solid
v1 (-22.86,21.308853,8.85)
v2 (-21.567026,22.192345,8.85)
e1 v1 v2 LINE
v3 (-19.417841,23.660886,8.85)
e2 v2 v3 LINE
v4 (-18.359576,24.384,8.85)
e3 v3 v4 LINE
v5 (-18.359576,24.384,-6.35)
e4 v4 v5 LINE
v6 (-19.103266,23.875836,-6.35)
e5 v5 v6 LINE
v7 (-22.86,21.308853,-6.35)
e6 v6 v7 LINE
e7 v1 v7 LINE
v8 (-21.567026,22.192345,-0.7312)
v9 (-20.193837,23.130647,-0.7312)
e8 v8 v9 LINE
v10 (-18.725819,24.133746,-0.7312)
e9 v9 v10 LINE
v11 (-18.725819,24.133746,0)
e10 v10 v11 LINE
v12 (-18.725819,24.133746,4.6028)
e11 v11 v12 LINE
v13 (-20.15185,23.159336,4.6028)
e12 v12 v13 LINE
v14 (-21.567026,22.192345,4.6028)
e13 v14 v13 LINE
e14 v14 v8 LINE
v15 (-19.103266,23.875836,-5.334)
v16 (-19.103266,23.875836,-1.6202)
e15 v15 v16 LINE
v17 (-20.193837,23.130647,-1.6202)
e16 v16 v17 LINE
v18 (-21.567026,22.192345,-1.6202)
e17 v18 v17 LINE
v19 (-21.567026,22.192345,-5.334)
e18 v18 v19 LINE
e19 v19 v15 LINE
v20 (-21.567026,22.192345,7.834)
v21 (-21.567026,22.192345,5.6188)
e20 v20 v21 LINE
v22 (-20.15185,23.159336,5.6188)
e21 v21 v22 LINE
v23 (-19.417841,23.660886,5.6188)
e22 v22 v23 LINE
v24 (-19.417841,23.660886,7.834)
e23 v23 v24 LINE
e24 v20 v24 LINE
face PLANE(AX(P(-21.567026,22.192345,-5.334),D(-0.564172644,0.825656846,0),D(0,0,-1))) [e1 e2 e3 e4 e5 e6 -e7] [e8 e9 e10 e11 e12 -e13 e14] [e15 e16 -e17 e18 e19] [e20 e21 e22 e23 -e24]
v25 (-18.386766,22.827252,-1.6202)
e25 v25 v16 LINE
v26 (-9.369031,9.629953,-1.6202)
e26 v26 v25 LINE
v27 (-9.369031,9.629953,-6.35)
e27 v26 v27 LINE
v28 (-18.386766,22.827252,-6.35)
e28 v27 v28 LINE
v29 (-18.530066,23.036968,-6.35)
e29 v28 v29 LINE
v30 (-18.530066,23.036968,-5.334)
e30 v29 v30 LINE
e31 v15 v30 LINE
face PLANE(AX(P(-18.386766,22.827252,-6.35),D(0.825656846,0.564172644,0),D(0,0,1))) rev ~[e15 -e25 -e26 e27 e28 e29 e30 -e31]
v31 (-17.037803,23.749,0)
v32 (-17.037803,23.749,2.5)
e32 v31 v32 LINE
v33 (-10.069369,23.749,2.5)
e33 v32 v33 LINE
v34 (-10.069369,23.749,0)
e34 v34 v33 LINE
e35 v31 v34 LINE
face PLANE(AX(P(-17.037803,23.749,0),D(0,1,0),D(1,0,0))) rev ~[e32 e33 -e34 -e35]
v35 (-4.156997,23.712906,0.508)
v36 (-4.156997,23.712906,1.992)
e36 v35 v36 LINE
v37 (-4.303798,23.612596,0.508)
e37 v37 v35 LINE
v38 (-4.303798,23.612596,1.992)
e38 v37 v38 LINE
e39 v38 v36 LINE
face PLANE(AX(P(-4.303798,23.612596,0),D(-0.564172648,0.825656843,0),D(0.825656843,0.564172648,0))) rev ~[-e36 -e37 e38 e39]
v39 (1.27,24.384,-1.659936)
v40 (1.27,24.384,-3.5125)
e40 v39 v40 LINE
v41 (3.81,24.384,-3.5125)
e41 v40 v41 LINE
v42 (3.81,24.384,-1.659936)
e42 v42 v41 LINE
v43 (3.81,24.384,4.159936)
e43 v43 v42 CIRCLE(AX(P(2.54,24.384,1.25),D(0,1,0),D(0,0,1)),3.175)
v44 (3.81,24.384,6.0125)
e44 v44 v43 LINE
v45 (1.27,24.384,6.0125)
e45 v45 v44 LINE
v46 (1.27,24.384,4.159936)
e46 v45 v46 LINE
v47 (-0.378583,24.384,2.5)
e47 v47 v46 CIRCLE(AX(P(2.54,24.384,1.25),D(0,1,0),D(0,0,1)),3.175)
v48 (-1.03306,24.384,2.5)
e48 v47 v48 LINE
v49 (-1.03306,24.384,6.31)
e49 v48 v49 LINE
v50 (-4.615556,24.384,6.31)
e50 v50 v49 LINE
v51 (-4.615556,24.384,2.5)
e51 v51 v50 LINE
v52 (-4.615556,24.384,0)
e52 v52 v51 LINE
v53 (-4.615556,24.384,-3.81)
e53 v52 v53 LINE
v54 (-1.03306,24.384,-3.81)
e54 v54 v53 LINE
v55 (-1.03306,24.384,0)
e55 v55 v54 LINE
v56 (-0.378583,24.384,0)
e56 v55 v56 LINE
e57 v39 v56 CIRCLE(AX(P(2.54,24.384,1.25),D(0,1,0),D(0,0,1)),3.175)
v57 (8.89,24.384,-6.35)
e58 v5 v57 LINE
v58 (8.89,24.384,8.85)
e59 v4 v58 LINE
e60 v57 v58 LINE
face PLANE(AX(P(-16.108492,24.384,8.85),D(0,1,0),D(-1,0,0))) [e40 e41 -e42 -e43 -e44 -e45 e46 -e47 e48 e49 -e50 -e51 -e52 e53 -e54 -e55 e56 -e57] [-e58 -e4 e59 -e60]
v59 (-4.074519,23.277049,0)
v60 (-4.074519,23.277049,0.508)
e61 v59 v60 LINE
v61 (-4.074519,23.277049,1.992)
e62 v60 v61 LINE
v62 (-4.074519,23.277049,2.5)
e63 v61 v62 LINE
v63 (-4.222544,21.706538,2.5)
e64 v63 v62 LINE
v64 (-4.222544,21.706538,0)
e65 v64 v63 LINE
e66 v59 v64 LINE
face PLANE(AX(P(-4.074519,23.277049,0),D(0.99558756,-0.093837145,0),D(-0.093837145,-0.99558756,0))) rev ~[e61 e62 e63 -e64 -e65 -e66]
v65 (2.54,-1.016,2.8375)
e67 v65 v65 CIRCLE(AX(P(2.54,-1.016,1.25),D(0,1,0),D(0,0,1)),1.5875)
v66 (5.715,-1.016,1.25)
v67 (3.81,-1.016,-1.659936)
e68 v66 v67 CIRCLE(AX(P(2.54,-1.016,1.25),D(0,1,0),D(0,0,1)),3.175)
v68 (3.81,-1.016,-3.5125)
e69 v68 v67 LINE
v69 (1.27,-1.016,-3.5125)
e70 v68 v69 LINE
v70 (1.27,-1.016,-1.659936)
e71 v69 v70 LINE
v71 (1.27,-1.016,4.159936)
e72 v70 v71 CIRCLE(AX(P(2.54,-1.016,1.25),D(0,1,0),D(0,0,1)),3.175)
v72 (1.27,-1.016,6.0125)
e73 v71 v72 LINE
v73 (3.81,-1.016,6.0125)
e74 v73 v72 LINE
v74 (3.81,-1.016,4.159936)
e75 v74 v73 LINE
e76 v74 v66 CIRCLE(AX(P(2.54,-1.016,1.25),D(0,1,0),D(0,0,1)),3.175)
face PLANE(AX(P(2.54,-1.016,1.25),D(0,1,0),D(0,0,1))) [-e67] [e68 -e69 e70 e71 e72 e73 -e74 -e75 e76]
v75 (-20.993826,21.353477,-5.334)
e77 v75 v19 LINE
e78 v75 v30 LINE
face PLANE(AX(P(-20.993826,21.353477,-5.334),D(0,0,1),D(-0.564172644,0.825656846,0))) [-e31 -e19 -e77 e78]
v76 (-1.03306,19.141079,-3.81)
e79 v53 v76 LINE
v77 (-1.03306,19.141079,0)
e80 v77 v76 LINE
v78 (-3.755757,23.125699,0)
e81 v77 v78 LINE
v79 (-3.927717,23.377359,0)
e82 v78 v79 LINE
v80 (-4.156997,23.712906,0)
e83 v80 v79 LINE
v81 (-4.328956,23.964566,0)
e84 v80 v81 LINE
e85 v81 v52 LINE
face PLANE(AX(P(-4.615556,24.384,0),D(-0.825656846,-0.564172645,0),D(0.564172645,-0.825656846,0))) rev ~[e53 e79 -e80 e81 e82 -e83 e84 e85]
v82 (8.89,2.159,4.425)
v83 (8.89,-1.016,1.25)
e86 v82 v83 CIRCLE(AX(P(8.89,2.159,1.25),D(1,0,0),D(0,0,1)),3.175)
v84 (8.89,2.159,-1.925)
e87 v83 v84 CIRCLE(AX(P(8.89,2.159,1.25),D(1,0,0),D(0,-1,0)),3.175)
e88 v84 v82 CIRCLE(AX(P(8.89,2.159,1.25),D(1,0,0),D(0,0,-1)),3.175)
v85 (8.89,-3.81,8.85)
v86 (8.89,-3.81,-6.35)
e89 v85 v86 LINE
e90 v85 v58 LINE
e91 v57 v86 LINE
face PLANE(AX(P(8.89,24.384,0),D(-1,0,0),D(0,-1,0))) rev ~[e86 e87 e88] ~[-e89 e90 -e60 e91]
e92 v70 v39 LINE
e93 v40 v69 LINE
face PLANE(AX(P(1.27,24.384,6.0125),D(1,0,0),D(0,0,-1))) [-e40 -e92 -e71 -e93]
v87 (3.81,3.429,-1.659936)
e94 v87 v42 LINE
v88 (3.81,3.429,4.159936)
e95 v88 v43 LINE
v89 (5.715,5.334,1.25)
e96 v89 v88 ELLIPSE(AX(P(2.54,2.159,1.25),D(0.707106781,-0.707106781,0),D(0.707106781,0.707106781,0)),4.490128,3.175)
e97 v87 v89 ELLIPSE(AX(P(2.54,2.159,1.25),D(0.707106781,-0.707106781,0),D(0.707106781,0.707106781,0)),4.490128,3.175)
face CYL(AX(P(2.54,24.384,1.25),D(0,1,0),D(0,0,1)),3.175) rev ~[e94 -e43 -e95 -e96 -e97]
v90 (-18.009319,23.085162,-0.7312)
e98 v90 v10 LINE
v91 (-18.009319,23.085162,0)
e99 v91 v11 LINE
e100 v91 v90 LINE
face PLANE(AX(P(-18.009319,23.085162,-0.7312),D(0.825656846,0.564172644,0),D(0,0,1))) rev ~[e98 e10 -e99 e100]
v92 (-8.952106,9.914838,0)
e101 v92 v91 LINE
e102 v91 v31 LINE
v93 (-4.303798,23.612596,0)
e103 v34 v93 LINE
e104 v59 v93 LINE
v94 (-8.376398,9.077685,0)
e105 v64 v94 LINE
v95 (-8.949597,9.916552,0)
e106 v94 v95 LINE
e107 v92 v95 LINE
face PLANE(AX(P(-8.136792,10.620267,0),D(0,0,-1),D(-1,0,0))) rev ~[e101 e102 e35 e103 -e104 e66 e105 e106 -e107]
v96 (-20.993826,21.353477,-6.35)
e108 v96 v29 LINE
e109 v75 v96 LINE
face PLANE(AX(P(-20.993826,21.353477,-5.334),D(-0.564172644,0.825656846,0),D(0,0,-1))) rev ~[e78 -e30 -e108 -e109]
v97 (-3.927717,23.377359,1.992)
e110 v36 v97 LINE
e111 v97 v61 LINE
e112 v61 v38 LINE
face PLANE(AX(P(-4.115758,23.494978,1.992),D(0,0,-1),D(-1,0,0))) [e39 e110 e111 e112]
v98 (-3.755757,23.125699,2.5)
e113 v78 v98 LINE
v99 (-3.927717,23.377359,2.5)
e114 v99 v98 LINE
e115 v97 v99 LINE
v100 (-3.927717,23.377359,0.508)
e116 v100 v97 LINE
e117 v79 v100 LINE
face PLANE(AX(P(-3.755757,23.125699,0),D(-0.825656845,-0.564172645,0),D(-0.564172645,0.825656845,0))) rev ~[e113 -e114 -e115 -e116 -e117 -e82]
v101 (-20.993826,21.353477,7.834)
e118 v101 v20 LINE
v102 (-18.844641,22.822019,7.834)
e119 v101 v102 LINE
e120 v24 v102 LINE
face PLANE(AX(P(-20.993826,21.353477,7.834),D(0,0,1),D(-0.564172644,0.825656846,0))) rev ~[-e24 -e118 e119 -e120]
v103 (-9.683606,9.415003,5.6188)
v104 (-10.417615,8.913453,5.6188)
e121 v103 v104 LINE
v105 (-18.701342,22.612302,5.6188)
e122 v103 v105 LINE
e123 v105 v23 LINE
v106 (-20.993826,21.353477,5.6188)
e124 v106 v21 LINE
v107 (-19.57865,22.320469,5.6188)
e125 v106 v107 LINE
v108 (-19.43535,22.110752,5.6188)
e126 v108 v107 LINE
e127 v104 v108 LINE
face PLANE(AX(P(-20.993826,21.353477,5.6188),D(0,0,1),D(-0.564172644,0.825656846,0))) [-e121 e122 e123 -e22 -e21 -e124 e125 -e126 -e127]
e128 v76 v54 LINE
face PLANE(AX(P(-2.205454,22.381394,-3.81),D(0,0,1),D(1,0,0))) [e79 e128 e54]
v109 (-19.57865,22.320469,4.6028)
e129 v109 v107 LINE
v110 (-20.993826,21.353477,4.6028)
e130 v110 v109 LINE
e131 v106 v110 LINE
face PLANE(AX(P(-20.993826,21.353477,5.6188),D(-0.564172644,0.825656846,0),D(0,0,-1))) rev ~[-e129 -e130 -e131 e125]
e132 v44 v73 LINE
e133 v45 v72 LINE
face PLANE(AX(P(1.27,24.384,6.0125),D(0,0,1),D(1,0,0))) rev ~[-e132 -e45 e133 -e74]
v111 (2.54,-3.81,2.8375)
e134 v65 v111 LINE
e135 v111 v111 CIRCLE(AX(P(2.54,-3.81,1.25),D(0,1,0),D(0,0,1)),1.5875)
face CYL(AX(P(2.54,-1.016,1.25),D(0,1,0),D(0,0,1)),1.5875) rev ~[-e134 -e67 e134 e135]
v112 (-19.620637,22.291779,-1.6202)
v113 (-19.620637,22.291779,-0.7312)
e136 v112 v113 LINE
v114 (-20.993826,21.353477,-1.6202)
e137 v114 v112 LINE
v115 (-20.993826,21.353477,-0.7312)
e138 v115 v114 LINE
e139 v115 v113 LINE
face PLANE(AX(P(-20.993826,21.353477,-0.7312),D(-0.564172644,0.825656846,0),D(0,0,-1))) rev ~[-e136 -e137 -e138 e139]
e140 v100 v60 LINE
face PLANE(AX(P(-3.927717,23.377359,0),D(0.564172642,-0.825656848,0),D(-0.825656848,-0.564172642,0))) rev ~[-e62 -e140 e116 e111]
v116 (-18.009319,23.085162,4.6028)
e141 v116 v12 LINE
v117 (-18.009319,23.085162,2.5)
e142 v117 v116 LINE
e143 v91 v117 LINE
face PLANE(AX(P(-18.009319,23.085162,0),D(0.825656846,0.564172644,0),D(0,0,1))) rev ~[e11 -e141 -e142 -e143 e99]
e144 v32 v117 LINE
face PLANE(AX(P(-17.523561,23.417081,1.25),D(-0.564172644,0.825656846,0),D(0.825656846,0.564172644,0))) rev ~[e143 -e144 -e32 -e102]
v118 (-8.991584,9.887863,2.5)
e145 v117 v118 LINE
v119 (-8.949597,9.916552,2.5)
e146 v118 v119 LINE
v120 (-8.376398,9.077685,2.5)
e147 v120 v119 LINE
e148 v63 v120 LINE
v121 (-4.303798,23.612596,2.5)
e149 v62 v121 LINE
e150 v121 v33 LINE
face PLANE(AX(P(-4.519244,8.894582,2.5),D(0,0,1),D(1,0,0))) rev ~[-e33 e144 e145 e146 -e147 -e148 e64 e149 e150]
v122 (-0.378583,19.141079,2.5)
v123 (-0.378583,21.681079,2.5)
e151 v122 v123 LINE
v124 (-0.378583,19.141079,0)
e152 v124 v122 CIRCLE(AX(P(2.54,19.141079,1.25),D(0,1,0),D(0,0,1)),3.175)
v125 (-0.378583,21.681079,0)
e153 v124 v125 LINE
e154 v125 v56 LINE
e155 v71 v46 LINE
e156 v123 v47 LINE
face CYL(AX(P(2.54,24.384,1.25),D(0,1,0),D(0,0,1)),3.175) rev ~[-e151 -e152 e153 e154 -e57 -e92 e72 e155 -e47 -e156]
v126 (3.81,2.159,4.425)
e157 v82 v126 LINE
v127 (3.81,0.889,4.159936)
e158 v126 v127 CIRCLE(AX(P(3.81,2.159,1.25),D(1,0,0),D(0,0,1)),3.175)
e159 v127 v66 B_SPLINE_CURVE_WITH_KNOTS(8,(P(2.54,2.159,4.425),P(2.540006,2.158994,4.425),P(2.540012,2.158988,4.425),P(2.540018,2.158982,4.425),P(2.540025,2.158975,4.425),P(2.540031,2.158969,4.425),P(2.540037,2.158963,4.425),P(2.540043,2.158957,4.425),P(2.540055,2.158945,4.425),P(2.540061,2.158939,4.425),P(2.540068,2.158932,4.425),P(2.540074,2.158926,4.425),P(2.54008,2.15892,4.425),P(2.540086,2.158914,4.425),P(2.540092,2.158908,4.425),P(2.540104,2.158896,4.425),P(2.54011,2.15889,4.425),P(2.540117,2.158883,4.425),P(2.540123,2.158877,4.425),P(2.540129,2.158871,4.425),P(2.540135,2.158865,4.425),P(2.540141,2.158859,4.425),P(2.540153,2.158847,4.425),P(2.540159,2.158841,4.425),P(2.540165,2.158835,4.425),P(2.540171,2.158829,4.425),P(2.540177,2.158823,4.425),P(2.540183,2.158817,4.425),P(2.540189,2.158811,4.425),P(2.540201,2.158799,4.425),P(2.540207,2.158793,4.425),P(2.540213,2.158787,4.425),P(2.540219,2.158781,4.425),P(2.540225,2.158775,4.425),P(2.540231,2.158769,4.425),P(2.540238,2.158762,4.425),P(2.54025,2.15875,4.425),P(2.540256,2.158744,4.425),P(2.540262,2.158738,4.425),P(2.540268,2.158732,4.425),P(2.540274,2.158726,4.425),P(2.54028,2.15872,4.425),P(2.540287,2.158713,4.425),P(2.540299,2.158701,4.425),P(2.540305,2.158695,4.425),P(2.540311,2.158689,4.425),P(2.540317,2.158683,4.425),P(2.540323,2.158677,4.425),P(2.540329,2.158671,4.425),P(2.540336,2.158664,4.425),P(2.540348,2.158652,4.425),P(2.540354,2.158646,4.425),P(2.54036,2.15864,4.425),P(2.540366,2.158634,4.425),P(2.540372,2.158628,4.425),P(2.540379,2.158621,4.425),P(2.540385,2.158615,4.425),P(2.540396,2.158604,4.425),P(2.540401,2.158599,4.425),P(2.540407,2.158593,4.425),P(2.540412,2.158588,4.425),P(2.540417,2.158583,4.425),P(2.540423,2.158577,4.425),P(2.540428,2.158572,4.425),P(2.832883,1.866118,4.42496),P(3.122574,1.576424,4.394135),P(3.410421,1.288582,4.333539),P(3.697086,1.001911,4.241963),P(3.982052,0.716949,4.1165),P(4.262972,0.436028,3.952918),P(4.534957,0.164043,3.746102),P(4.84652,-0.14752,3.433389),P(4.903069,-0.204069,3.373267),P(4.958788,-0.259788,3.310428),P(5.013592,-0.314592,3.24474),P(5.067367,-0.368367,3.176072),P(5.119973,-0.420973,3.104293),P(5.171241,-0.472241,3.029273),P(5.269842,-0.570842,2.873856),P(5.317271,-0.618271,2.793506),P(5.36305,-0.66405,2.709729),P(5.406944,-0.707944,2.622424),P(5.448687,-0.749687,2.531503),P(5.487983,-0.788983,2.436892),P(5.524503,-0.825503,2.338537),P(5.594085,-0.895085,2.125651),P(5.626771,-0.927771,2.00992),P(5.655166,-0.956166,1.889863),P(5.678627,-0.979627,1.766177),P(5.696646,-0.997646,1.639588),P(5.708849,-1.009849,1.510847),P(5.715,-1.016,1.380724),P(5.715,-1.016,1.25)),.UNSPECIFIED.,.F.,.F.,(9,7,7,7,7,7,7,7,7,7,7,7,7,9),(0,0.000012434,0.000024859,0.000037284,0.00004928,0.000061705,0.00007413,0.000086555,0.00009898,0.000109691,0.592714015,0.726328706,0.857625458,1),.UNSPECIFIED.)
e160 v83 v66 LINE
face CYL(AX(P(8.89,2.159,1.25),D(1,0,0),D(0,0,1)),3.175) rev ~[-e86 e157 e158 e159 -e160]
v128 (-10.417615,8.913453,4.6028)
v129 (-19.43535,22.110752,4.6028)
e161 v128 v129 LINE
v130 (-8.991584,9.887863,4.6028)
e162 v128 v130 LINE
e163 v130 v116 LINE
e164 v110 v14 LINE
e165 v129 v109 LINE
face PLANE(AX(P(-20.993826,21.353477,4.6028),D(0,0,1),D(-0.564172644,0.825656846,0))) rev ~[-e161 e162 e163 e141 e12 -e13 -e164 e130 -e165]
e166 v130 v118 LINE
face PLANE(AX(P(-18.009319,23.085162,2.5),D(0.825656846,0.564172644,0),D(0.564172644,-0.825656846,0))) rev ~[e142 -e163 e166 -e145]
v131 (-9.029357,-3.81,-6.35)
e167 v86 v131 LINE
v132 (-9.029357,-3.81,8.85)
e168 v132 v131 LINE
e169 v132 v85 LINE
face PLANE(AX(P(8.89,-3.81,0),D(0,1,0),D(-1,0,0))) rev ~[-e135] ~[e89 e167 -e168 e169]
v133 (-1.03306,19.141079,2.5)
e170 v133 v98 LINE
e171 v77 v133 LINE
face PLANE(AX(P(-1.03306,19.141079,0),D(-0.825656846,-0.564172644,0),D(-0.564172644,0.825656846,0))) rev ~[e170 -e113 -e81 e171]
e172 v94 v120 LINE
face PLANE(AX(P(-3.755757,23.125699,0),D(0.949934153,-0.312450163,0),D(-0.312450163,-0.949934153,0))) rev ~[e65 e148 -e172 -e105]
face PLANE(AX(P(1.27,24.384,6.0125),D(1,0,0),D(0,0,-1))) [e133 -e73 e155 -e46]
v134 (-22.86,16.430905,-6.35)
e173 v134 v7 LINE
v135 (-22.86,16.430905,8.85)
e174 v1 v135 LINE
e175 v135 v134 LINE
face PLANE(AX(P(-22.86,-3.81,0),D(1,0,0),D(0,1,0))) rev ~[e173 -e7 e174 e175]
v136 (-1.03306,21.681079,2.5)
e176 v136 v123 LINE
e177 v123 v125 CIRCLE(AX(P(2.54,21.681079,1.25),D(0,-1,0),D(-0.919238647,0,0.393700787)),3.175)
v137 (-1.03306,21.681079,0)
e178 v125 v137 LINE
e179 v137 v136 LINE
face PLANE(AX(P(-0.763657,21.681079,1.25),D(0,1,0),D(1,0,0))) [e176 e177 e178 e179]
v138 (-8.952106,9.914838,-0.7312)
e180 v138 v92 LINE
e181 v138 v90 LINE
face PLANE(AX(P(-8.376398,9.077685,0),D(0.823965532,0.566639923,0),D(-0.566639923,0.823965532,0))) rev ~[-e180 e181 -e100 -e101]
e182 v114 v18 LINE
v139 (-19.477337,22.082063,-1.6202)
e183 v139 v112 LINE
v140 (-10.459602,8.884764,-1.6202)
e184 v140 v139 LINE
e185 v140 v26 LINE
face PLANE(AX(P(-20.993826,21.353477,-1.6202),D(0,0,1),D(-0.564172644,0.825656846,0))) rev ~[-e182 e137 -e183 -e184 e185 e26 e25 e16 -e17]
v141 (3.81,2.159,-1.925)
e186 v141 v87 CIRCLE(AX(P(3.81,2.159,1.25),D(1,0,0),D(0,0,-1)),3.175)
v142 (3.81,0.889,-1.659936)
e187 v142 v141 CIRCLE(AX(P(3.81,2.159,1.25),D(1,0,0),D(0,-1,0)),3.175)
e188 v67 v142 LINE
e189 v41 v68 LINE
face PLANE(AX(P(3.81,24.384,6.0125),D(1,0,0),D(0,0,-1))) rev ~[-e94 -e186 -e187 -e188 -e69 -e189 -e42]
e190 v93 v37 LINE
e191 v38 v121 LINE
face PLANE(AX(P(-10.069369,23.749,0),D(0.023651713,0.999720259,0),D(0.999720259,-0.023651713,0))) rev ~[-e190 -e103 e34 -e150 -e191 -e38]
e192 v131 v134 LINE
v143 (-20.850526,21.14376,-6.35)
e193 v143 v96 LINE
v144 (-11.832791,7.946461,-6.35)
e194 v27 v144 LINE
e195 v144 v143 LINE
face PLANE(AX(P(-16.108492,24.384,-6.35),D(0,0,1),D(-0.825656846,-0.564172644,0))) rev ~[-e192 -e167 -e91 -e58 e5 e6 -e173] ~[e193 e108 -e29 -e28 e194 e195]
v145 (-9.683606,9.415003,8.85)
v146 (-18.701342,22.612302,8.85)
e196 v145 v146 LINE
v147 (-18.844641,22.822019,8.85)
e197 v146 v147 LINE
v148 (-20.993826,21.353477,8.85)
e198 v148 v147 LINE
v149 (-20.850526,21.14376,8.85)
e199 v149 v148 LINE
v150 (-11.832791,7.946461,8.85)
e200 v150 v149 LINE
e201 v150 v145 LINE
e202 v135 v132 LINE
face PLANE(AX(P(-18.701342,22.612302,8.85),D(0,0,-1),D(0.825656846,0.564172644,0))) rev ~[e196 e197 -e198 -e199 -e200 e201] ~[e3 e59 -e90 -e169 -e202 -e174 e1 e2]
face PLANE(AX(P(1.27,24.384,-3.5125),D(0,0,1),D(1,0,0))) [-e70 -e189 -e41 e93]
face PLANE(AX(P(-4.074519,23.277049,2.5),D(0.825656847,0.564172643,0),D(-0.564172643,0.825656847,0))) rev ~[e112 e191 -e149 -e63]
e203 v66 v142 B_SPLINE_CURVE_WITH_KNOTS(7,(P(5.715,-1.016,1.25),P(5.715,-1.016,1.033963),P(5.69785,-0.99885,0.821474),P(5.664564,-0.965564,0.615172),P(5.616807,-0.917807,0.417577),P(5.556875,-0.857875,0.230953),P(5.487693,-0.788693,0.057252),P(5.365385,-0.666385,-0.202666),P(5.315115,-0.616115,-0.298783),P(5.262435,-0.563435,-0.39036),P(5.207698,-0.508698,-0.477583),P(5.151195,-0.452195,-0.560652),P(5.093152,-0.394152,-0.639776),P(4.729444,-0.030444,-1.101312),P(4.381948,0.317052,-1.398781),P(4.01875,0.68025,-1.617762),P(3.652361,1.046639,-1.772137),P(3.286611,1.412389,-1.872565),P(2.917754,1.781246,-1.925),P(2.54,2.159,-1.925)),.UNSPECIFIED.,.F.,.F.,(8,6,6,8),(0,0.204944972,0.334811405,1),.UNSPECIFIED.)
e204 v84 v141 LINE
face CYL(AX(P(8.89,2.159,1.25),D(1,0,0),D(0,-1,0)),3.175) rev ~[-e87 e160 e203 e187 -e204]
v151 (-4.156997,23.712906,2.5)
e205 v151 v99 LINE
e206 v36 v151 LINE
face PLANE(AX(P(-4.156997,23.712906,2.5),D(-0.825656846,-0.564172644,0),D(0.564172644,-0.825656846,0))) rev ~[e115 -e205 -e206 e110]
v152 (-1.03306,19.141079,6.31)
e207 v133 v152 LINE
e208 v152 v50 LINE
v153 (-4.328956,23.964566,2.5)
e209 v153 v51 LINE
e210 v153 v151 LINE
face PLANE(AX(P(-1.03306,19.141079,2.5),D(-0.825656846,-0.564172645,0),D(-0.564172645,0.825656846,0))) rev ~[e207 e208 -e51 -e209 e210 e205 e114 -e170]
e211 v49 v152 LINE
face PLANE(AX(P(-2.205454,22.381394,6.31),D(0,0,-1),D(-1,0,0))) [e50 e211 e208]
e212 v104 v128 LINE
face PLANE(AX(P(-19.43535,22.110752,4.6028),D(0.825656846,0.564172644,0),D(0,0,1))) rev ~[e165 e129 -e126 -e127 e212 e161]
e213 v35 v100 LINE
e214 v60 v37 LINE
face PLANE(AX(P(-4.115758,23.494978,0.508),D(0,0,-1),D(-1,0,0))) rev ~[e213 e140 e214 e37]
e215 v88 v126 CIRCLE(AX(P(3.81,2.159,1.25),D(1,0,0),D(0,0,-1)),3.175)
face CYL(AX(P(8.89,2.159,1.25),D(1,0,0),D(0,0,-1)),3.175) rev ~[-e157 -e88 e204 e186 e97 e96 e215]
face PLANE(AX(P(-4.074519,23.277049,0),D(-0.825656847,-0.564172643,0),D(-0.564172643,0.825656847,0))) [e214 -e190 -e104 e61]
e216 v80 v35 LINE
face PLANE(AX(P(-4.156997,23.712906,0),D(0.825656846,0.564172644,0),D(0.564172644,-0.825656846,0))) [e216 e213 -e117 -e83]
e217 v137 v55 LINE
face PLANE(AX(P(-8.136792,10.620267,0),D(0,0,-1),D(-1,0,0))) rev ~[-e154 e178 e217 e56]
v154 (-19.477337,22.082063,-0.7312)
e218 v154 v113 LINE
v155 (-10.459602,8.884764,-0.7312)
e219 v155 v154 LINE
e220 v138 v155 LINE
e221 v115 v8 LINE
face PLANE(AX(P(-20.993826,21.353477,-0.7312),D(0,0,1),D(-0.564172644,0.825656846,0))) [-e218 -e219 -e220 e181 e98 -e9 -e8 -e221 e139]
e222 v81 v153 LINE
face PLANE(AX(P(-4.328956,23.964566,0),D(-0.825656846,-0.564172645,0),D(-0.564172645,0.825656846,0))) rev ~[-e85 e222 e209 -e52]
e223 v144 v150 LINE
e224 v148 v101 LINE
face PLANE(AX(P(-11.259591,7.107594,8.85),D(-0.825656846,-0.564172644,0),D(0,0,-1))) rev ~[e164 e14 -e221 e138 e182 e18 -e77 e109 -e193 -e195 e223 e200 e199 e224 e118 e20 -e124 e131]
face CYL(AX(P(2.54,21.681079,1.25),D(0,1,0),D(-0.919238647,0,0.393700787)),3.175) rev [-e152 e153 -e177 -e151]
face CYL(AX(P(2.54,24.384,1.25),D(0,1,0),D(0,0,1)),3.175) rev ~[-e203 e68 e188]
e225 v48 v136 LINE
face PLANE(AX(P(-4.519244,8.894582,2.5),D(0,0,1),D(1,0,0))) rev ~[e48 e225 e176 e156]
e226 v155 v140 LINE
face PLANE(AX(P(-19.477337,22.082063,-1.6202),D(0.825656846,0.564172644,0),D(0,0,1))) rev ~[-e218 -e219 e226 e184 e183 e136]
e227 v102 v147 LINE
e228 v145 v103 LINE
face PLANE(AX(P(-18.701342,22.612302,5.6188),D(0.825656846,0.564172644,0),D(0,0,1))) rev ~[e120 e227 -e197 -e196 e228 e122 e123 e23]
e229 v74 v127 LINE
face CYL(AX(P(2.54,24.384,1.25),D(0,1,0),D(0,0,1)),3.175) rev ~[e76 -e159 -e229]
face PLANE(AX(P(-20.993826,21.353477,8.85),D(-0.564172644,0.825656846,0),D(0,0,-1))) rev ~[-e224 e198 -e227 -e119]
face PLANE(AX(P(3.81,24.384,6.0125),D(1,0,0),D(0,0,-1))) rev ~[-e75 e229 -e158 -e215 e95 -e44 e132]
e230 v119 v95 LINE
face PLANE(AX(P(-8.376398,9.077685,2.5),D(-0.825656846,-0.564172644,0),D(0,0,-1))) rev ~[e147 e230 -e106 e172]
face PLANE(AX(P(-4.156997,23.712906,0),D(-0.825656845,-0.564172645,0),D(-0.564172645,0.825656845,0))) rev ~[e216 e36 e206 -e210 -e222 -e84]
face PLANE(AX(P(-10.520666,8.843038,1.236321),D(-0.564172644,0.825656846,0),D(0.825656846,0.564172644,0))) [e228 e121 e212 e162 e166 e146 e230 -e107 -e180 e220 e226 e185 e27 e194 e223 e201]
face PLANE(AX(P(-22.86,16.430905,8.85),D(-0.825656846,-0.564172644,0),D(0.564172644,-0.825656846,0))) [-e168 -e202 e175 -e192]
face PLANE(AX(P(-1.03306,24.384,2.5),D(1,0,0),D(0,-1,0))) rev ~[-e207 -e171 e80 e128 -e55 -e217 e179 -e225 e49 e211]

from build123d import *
from build123d.topology import SkipClean

# Parameters (mm, degrees)
BOSS_EXTRUDE1_DEPTH     = 2.5
BOSS_EXTRUDE1_2_DEPTH   = 2.5
BOSS_EXTRUDE2_DEPTH     = 6.35
BOSS_EXTRUDE3_DEPTH     = 6.35
SKETCH4_R               = 3.175
CUT_EXTRUDE1_DEPTH      = 25.4
SKETCH5_R               = 1.5875
CUT_EXTRUDE2_DEPTH      = 25.4
CUT_EXTRUDE3_DEPTH      = 25.4
CUT_EXTRUDE4_REACH      = 43
CUT_EXTRUDE4_END_RADIUS = 3.175
CUT_EXTRUDE5_REACH      = 39.36
SKETCH8_W               = 2.54
SKETCH8_H               = 9.525
SKETCH9_W               = 0.508
SKETCH9_H               = 15.2
BOSS_EXTRUDE4_DEPTH     = 17
BOSS_EXTRUDE5_DEPTH     = 1.016
SKETCH11_W              = 1.176658287
SKETCH11_H              = 2.5
SKETCH11_W_2            = 2.433787944
SKETCH11_H_2            = 15.2
BOSS_EXTRUDE6_DEPTH     = 1.27
CUT_EXTRUDE6_DEPTH      = 38.864332241
BOSS_EXTRUDE7_START     = 2.54
BOSS_EXTRUDE7_DEPTH     = 2.54
BOSS_EXTRUDE8_DEPTH     = 2.54
BOSS_EXTRUDE9_DEPTH     = 0.508
BOSS_EXTRUDE10_DEPTH    = 0.508
CUT_EXTRUDE7_DEPTH      = 3.81
CUT_EXTRUDE8_DEPTH      = 3.81
BOSS_EXTRUDE11_DEPTH    = 3.81
SKETCH21_W              = 1.016
SKETCH21_H              = 1.016
SKETCH21_W_2            = 0.889
BOSS_EXTRUDE12_DEPTH    = 3.302
BOSS_EXTRUDE13_DEPTH    = 3.81


with BuildPart() as part:
    # Sketch1 → Boss-Extrude1 (new body)
    with BuildSketch(Plane.XY):
        Polygon((5.08, 0), (0, 0), (0, 19.141079028), (-1.033059908, 19.141079028), (-3.75575709, 23.125698967), (-8.376397661, 9.077684872), (-11.679025045, 6.820994294), (-21.26996, 20.857160675), (-22.86, 19.770683798), (-22.86, -3.81), (8.89, -3.81), (8.89, 24.384), (5.08, 24.384), align=None)
    extrude(amount=BOSS_EXTRUDE1_DEPTH)



with BuildPart() as body_2:
    # Sketch1 → Boss-Extrude1 2 (new body)
    with BuildSketch(Plane.XY):
        Polygon((-10.069369191, 23.749), (-4.328956497, 23.964566322), (-4.615556201, 24.384), (-16.108492032, 24.384), (-17.03780348, 23.749), align=None)
    extrude(amount=BOSS_EXTRUDE1_2_DEPTH)


with BuildPart() as part_1:
    add(part.part)

    add(body_2.part)  # Boss-Extrude2 merges body 2
    # Sketch2 → Boss-Extrude2 (add)
    with BuildSketch(Plane.XY.offset(2.5)):
        Polygon((-11.679025045, 6.820994294), (-21.26996, 20.857160675), (-22.86, 19.770683798), (-22.86, -3.81), (8.89, -3.81), (8.89, 24.384), (5.08, 24.384), (5.08, 0), (0, 0), (0, 19.141079028), (-1.033059908, 19.141079028), (-3.75575709, 23.125698967), (-8.376397661, 9.077684872), align=None)
        Polygon((-16.108492032, 24.384), (-18.00931945, 23.085161582), (-8.418384495, 9.048995201), (-8.376397661, 9.077684872), (-3.75575709, 23.125698967), (-1.033059908, 19.141079028), (0, 19.141079028), (0, 0), (5.08, 0), (5.08, 24.384), align=None)
    extrude(amount=BOSS_EXTRUDE2_DEPTH)

    # Sketch3 → Boss-Extrude3 (add)
    with BuildSketch(Plane(origin=(0, 0, 0), x_dir=(-1, 0, 0), z_dir=(0, 0, -1))):
        Polygon((-8.89, 24.384), (-8.89, -3.81), (22.86, -3.81), (22.86, 19.770683798), (21.26996, 20.857160675), (11.679025045, 6.820994294), (8.376397661, 9.077684872), (18.00931945, 23.085161582), (16.108492032, 24.384), align=None)
    extrude(amount=BOSS_EXTRUDE3_DEPTH)

    # Sketch4 → Cut-Extrude1 (cut)
    with BuildSketch(Plane(origin=(0, 24.384, 0), x_dir=(1, 0, 0), z_dir=(0, 1, 0))):
        with Locations(Location((2.54, -1.25, 0), (0, 0, 270))):
            Circle(SKETCH4_R)
    extrude(amount=-CUT_EXTRUDE1_DEPTH, mode=Mode.SUBTRACT)

    # Sketch5 → Cut-Extrude2 (cut)
    with BuildSketch(Plane(origin=(0, -1.016, 0), x_dir=(1, 0, 0), z_dir=(0, 1, 0))):
        with Locations(Location((2.54, -1.25, 0), (0, 0, 270))):
            Circle(SKETCH5_R)
    extrude(amount=-CUT_EXTRUDE2_DEPTH, mode=Mode.SUBTRACT)

    # Sketch6 → Cut-Extrude3 (cut)
    with BuildSketch(Plane.XY.offset(8.85)):
        Polygon((-22.86, 16.430904611), (-9.029357481, -3.81), (-22.86, -3.81), align=None)
    extrude(amount=-CUT_EXTRUDE3_DEPTH, mode=Mode.SUBTRACT)

    # Cut-Extrude4: up to this cylinder (the profile starts outside it)
    with SkipClean():  # the faces are left unmerged after this step: merging them gives an invalid solid
        cut_extrude4_end = Plane(origin=(2.54, 2.159, 1.25), z_dir=(0, 1, 0)) * Cylinder(CUT_EXTRUDE4_END_RADIUS, 96.045024, mode=Mode.PRIVATE)
        # Sketch7 → Cut-Extrude4 (cut, up to the surface)
        with BuildSketch(Plane(origin=(8.89, 0, 0), x_dir=(0, 0, -1), z_dir=(1, 0, 0)), mode=Mode.PRIVATE) as cut_extrude4_sk1:
            with BuildLine():
                ThreePointArc((1.925, 2.159), (-1.25, 5.334), (-4.425, 2.159))
                Line((-4.425, 2.159), (1.925, 2.159))
            make_face()
        cut_extrude4_tool1 = extrude(cut_extrude4_sk1.sketch, amount=-CUT_EXTRUDE4_REACH, mode=Mode.PRIVATE) - cut_extrude4_end
        add(cut_extrude4_tool1.solids().sort_by_distance((8.89, 3.506512, 1.25))[0], mode=Mode.SUBTRACT)
        # Sketch7 → Cut-Extrude4 (cut, up to the surface)
        with BuildSketch(Plane(origin=(8.89, 0, 0), x_dir=(0, 0, -1), z_dir=(1, 0, 0)), mode=Mode.PRIVATE) as cut_extrude4_sk2:
            with BuildLine():
                Line((1.925, 2.159), (-4.425, 2.159))
                ThreePointArc((-4.425, 2.159), (-3.49506403, -0.08606403), (-1.25, -1.016))
                ThreePointArc((-1.25, -1.016), (0.99506403, -0.08606403), (1.925, 2.159))
            make_face()
        cut_extrude4_tool2 = extrude(cut_extrude4_sk2.sketch, amount=-CUT_EXTRUDE4_REACH, mode=Mode.PRIVATE) - cut_extrude4_end
        add(cut_extrude4_tool2.solids().sort_by_distance((8.89, 0.811488, 1.25))[0], mode=Mode.SUBTRACT)
        # Sketch7 → Cut-Extrude4 (cut, up to the surface)
        with BuildSketch(Plane(origin=(8.89, 0, 0), x_dir=(0, 0, -1), z_dir=(1, 0, 0)), mode=Mode.PRIVATE) as cut_extrude4_sk3:
            with BuildLine():
                ThreePointArc((1.925, 2.159), (-1.25, 5.334), (-4.425, 2.159))
                Line((-4.425, 2.159), (1.925, 2.159))
            make_face()
        cut_extrude4_tool3 = extrude(cut_extrude4_sk3.sketch, amount=-CUT_EXTRUDE4_REACH, mode=Mode.PRIVATE) - cut_extrude4_end
        add(cut_extrude4_tool3.solids().sort_by_distance((8.89, 3.506512, 1.25))[0], mode=Mode.SUBTRACT)
        # Sketch7 → Cut-Extrude4 (cut, up to the surface)
        with BuildSketch(Plane(origin=(8.89, 0, 0), x_dir=(0, 0, -1), z_dir=(1, 0, 0)), mode=Mode.PRIVATE) as cut_extrude4_sk4:
            with BuildLine():
                Line((1.925, 2.159), (-4.425, 2.159))
                ThreePointArc((-4.425, 2.159), (-3.49506403, -0.08606403), (-1.25, -1.016))
                ThreePointArc((-1.25, -1.016), (0.99506403, -0.08606403), (1.925, 2.159))
            make_face()
        cut_extrude4_tool4 = extrude(cut_extrude4_sk4.sketch, amount=-CUT_EXTRUDE4_REACH, mode=Mode.PRIVATE) - cut_extrude4_end
        add(cut_extrude4_tool4.solids().sort_by_distance((8.89, 0.811488, 1.25))[0], mode=Mode.SUBTRACT)

    # Cut-Extrude5: up to this face of the body (flat: up to its plane)
    cut_extrude5_end = Plane(part_1.part.faces().sort_by_distance((4.72156403, -1.016, 3.43156403))[0])
    # Sketch8 → Cut-Extrude5 (cut, up to the picked face)
    with BuildSketch(Plane(origin=(0, 24.384, 0), x_dir=(1, 0, 0), z_dir=(0, 1, 0)), mode=Mode.PRIVATE) as cut_extrude5_sk1:
        with Locations((2.54, -1.25)):
            Rectangle(SKETCH8_W, SKETCH8_H)
    cut_extrude5_tool1 = split(extrude(cut_extrude5_sk1.sketch, amount=-CUT_EXTRUDE5_REACH, mode=Mode.PRIVATE), bisect_by=cut_extrude5_end, keep=Keep.BOTH, mode=Mode.PRIVATE)
    add(cut_extrude5_tool1.solids().sort_by(Axis((2.54, 24.384, 1.25), (0, -1, 0)))[0], mode=Mode.SUBTRACT)

    # Sketch9 → Boss-Extrude4 (add)
    with BuildSketch(Plane(origin=(-6.894633763, 10.090176515, 0), x_dir=(0.825656845959394, 0.5641726444275594, 0), z_dir=(-0.5641726444275594, 0.825656845959394, 0))):
        with Locations((-5.540648594, -1.25)):
            Rectangle(SKETCH9_W, SKETCH9_H)
        Polygon((-1.794648594, 6.35), (-2.302648594, 6.35), (-2.302648594, 1.6202), (-3.623501238, 1.6202), (-3.623501238, 0.7312), (-1.794648594, 0.7312), align=None)
        Polygon((-1.845501238, -8.85), (-1.845501238, -4.6028), (-3.572648594, -4.6028), (-3.572648594, -5.6188), (-2.683648594, -5.6188), (-2.683648594, -8.85), align=None)
    extrude(amount=BOSS_EXTRUDE4_DEPTH)

    # Sketch10 → Boss-Extrude5 (add)
    with BuildSketch(Plane(origin=(-6.894633763, 10.090176515, 0), x_dir=(0.8256568459593948, 0.5641726444275585, 0), z_dir=(-0.5641726444275585, 0.8256568459593948, 0))):
        Polygon((-5.286648594, -8.85), (-2.683648594, -8.85), (-2.683648594, -5.6188), (-3.572648594, -5.6188), (-3.572648594, -4.6028), (-1.845501238, -4.6028), (-1.845501238, -2.5), (-1.794648594, -2.5), (-1.794648594, 0), (-1.794648594, 0.7312), (-3.623501238, 0.7312), (-3.623501238, 1.6202), (-2.302648594, 1.6202), (-2.302648594, 6.35), (-5.286648594, 6.35), align=None)
    extrude(amount=BOSS_EXTRUDE5_DEPTH)

    # Sketch11 → Boss-Extrude6 (add)
    with BuildSketch(Plane(origin=(-16.485568719, 24.126342896, 0), x_dir=(0.8256568459593935, 0.5641726444275603, 0), z_dir=(-0.5641726444275603, 0.8256568459593935, 0))):
        with Locations((-1.257172095, -1.25)):
            Rectangle(SKETCH11_W, SKETCH11_H)
        Polygon((-3.623501238, 1.6202), (-3.623501238, 0.7312), (-1.845501238, 0.7312), (-1.845501238, 0), (-0.668842951, 0), (-0.668842951, -2.5), (-1.845501238, -2.5), (-1.845501238, -4.6028), (-3.572648594, -4.6028), (-3.572648594, -5.6188), (-2.683648594, -5.6188), (-2.683648594, -8.85), (0.456699038, -8.85), (0.456699038, 6.35), (-2.302648594, 6.35), (-2.302648594, 1.6202), align=None)
        with Locations((-6.503542566, -1.25)):
            Rectangle(SKETCH11_W_2, SKETCH11_H_2)
    extrude(amount=BOSS_EXTRUDE6_DEPTH)

    # Sketch12 → Cut-Extrude6 (cut, through all)
    with BuildSketch(Plane.XY.offset(8.85)):
        Polygon((-16.108492032, 24.384), (-18.359576008, 24.384), (-16.82499129, 25.432584194), align=None)
        Polygon((-22.86, 19.770683798), (-22.86, 21.308853083), (-23.576499258, 20.819267993), align=None)
    extrude(amount=-CUT_EXTRUDE6_DEPTH, mode=Mode.SUBTRACT)

    # Sketch13 → Boss-Extrude7 (add)
    with BuildSketch(Plane(origin=(0, 19.141079028, 0), x_dir=(1, 0, 0), z_dir=(0, 1, 0)).offset(BOSS_EXTRUDE7_START)):
        with BuildLine():
            Line((-0.378582704, 0), (-1.033059908, 0))
            Line((-1.033059908, 0), (-1.033059908, -2.5))
            Line((-1.033059908, -2.5), (-0.378582704, -2.5))
            ThreePointArc((-0.378582704, -2.5), (-0.635, -1.25), (-0.378582704, 0))
        make_face()
    extrude(amount=-BOSS_EXTRUDE7_DEPTH)

    # Sketch15 → Boss-Extrude8 (add)
    with BuildSketch(Plane.XY):
        Polygon((-4.156996675, 23.712906116), (-4.328956497, 23.964566322), (-4.538912798, 23.956681957), (-4.303798462, 23.612596219), align=None)
        Polygon((-3.75575709, 23.125698967), (-3.927716912, 23.377359173), (-4.0745187, 23.277049277), (-3.825732396, 22.912954853), align=None)
    extrude(amount=BOSS_EXTRUDE8_DEPTH)

    # Sketch16 → Boss-Extrude9 (add)
    with BuildSketch(Plane.XY):
        Polygon((-4.0745187, 23.277049277), (-4.303798462, 23.612596219), (-4.156996675, 23.712906116), (-3.927716912, 23.377359173), align=None)
    extrude(amount=BOSS_EXTRUDE9_DEPTH)

    # Sketch17 → Boss-Extrude10 (add)
    with BuildSketch(Plane(origin=(0, 0, 2.5), x_dir=(-1, 0, 0), z_dir=(0, 0, -1))):
        Polygon((4.0745187, 23.277049277), (4.303798462, 23.612596219), (4.156996675, 23.712906116), (3.927716912, 23.377359173), align=None)
    extrude(amount=BOSS_EXTRUDE10_DEPTH)

    # Sketch18 → Cut-Extrude7 (cut)
    with BuildSketch(Plane(origin=(0, 0, 2.5), x_dir=(-1, 0, 0), z_dir=(0, 0, -1))):
        Polygon((1.033059908, 24.384), (1.033059908, 21.681079028), (1.033059908, 19.141079028), (4.615556201, 24.384), align=None)
    extrude(amount=-CUT_EXTRUDE7_DEPTH, mode=Mode.SUBTRACT)

    # Sketch19 → Cut-Extrude8 (cut)
    with BuildSketch(Plane.XY):
        Polygon((-1.033059908, 19.141079028), (-1.033059908, 21.681079028), (-1.033059908, 24.384), (-4.615556201, 24.384), align=None)
    extrude(amount=-CUT_EXTRUDE8_DEPTH, mode=Mode.SUBTRACT)

    # Sketch20 → Boss-Extrude11 (add)
    with BuildSketch(Plane.XY):
        Polygon((-10.069369191, 23.749), (-4.303798462, 23.612596219), (-4.538912798, 23.956681957), align=None)
    extrude(amount=BOSS_EXTRUDE11_DEPTH)

    # Sketch21 → Boss-Extrude12 (add)
    with BuildSketch(Plane(origin=(-4.364957604, -2.982582517, 0), x_dir=(0, 0, -1), z_dir=(0.8256568459593941, 0.5641726444275595, 0))):
        with Locations((5.842, 29.982787079)):
            Rectangle(SKETCH21_W, SKETCH21_H)
        with Locations((1.1757, 29.982787079)):
            Rectangle(SKETCH21_W_2, SKETCH21_H)
        with Locations((-5.1108, 29.982787079)):
            Rectangle(SKETCH21_W, SKETCH21_H)
        with Locations((-8.342, 29.982787079)):
            Rectangle(SKETCH21_W, SKETCH21_H)
    extrude(amount=BOSS_EXTRUDE12_DEPTH)

    # Sketch22 → Boss-Extrude13 (add)
    with BuildSketch(Plane.XY):
        Polygon((-3.825732396, 22.912954853), (-4.0745187, 23.277049277), (-4.222544103, 21.706538478), align=None)
    extrude(amount=BOSS_EXTRUDE13_DEPTH)


solid = part_1.part
